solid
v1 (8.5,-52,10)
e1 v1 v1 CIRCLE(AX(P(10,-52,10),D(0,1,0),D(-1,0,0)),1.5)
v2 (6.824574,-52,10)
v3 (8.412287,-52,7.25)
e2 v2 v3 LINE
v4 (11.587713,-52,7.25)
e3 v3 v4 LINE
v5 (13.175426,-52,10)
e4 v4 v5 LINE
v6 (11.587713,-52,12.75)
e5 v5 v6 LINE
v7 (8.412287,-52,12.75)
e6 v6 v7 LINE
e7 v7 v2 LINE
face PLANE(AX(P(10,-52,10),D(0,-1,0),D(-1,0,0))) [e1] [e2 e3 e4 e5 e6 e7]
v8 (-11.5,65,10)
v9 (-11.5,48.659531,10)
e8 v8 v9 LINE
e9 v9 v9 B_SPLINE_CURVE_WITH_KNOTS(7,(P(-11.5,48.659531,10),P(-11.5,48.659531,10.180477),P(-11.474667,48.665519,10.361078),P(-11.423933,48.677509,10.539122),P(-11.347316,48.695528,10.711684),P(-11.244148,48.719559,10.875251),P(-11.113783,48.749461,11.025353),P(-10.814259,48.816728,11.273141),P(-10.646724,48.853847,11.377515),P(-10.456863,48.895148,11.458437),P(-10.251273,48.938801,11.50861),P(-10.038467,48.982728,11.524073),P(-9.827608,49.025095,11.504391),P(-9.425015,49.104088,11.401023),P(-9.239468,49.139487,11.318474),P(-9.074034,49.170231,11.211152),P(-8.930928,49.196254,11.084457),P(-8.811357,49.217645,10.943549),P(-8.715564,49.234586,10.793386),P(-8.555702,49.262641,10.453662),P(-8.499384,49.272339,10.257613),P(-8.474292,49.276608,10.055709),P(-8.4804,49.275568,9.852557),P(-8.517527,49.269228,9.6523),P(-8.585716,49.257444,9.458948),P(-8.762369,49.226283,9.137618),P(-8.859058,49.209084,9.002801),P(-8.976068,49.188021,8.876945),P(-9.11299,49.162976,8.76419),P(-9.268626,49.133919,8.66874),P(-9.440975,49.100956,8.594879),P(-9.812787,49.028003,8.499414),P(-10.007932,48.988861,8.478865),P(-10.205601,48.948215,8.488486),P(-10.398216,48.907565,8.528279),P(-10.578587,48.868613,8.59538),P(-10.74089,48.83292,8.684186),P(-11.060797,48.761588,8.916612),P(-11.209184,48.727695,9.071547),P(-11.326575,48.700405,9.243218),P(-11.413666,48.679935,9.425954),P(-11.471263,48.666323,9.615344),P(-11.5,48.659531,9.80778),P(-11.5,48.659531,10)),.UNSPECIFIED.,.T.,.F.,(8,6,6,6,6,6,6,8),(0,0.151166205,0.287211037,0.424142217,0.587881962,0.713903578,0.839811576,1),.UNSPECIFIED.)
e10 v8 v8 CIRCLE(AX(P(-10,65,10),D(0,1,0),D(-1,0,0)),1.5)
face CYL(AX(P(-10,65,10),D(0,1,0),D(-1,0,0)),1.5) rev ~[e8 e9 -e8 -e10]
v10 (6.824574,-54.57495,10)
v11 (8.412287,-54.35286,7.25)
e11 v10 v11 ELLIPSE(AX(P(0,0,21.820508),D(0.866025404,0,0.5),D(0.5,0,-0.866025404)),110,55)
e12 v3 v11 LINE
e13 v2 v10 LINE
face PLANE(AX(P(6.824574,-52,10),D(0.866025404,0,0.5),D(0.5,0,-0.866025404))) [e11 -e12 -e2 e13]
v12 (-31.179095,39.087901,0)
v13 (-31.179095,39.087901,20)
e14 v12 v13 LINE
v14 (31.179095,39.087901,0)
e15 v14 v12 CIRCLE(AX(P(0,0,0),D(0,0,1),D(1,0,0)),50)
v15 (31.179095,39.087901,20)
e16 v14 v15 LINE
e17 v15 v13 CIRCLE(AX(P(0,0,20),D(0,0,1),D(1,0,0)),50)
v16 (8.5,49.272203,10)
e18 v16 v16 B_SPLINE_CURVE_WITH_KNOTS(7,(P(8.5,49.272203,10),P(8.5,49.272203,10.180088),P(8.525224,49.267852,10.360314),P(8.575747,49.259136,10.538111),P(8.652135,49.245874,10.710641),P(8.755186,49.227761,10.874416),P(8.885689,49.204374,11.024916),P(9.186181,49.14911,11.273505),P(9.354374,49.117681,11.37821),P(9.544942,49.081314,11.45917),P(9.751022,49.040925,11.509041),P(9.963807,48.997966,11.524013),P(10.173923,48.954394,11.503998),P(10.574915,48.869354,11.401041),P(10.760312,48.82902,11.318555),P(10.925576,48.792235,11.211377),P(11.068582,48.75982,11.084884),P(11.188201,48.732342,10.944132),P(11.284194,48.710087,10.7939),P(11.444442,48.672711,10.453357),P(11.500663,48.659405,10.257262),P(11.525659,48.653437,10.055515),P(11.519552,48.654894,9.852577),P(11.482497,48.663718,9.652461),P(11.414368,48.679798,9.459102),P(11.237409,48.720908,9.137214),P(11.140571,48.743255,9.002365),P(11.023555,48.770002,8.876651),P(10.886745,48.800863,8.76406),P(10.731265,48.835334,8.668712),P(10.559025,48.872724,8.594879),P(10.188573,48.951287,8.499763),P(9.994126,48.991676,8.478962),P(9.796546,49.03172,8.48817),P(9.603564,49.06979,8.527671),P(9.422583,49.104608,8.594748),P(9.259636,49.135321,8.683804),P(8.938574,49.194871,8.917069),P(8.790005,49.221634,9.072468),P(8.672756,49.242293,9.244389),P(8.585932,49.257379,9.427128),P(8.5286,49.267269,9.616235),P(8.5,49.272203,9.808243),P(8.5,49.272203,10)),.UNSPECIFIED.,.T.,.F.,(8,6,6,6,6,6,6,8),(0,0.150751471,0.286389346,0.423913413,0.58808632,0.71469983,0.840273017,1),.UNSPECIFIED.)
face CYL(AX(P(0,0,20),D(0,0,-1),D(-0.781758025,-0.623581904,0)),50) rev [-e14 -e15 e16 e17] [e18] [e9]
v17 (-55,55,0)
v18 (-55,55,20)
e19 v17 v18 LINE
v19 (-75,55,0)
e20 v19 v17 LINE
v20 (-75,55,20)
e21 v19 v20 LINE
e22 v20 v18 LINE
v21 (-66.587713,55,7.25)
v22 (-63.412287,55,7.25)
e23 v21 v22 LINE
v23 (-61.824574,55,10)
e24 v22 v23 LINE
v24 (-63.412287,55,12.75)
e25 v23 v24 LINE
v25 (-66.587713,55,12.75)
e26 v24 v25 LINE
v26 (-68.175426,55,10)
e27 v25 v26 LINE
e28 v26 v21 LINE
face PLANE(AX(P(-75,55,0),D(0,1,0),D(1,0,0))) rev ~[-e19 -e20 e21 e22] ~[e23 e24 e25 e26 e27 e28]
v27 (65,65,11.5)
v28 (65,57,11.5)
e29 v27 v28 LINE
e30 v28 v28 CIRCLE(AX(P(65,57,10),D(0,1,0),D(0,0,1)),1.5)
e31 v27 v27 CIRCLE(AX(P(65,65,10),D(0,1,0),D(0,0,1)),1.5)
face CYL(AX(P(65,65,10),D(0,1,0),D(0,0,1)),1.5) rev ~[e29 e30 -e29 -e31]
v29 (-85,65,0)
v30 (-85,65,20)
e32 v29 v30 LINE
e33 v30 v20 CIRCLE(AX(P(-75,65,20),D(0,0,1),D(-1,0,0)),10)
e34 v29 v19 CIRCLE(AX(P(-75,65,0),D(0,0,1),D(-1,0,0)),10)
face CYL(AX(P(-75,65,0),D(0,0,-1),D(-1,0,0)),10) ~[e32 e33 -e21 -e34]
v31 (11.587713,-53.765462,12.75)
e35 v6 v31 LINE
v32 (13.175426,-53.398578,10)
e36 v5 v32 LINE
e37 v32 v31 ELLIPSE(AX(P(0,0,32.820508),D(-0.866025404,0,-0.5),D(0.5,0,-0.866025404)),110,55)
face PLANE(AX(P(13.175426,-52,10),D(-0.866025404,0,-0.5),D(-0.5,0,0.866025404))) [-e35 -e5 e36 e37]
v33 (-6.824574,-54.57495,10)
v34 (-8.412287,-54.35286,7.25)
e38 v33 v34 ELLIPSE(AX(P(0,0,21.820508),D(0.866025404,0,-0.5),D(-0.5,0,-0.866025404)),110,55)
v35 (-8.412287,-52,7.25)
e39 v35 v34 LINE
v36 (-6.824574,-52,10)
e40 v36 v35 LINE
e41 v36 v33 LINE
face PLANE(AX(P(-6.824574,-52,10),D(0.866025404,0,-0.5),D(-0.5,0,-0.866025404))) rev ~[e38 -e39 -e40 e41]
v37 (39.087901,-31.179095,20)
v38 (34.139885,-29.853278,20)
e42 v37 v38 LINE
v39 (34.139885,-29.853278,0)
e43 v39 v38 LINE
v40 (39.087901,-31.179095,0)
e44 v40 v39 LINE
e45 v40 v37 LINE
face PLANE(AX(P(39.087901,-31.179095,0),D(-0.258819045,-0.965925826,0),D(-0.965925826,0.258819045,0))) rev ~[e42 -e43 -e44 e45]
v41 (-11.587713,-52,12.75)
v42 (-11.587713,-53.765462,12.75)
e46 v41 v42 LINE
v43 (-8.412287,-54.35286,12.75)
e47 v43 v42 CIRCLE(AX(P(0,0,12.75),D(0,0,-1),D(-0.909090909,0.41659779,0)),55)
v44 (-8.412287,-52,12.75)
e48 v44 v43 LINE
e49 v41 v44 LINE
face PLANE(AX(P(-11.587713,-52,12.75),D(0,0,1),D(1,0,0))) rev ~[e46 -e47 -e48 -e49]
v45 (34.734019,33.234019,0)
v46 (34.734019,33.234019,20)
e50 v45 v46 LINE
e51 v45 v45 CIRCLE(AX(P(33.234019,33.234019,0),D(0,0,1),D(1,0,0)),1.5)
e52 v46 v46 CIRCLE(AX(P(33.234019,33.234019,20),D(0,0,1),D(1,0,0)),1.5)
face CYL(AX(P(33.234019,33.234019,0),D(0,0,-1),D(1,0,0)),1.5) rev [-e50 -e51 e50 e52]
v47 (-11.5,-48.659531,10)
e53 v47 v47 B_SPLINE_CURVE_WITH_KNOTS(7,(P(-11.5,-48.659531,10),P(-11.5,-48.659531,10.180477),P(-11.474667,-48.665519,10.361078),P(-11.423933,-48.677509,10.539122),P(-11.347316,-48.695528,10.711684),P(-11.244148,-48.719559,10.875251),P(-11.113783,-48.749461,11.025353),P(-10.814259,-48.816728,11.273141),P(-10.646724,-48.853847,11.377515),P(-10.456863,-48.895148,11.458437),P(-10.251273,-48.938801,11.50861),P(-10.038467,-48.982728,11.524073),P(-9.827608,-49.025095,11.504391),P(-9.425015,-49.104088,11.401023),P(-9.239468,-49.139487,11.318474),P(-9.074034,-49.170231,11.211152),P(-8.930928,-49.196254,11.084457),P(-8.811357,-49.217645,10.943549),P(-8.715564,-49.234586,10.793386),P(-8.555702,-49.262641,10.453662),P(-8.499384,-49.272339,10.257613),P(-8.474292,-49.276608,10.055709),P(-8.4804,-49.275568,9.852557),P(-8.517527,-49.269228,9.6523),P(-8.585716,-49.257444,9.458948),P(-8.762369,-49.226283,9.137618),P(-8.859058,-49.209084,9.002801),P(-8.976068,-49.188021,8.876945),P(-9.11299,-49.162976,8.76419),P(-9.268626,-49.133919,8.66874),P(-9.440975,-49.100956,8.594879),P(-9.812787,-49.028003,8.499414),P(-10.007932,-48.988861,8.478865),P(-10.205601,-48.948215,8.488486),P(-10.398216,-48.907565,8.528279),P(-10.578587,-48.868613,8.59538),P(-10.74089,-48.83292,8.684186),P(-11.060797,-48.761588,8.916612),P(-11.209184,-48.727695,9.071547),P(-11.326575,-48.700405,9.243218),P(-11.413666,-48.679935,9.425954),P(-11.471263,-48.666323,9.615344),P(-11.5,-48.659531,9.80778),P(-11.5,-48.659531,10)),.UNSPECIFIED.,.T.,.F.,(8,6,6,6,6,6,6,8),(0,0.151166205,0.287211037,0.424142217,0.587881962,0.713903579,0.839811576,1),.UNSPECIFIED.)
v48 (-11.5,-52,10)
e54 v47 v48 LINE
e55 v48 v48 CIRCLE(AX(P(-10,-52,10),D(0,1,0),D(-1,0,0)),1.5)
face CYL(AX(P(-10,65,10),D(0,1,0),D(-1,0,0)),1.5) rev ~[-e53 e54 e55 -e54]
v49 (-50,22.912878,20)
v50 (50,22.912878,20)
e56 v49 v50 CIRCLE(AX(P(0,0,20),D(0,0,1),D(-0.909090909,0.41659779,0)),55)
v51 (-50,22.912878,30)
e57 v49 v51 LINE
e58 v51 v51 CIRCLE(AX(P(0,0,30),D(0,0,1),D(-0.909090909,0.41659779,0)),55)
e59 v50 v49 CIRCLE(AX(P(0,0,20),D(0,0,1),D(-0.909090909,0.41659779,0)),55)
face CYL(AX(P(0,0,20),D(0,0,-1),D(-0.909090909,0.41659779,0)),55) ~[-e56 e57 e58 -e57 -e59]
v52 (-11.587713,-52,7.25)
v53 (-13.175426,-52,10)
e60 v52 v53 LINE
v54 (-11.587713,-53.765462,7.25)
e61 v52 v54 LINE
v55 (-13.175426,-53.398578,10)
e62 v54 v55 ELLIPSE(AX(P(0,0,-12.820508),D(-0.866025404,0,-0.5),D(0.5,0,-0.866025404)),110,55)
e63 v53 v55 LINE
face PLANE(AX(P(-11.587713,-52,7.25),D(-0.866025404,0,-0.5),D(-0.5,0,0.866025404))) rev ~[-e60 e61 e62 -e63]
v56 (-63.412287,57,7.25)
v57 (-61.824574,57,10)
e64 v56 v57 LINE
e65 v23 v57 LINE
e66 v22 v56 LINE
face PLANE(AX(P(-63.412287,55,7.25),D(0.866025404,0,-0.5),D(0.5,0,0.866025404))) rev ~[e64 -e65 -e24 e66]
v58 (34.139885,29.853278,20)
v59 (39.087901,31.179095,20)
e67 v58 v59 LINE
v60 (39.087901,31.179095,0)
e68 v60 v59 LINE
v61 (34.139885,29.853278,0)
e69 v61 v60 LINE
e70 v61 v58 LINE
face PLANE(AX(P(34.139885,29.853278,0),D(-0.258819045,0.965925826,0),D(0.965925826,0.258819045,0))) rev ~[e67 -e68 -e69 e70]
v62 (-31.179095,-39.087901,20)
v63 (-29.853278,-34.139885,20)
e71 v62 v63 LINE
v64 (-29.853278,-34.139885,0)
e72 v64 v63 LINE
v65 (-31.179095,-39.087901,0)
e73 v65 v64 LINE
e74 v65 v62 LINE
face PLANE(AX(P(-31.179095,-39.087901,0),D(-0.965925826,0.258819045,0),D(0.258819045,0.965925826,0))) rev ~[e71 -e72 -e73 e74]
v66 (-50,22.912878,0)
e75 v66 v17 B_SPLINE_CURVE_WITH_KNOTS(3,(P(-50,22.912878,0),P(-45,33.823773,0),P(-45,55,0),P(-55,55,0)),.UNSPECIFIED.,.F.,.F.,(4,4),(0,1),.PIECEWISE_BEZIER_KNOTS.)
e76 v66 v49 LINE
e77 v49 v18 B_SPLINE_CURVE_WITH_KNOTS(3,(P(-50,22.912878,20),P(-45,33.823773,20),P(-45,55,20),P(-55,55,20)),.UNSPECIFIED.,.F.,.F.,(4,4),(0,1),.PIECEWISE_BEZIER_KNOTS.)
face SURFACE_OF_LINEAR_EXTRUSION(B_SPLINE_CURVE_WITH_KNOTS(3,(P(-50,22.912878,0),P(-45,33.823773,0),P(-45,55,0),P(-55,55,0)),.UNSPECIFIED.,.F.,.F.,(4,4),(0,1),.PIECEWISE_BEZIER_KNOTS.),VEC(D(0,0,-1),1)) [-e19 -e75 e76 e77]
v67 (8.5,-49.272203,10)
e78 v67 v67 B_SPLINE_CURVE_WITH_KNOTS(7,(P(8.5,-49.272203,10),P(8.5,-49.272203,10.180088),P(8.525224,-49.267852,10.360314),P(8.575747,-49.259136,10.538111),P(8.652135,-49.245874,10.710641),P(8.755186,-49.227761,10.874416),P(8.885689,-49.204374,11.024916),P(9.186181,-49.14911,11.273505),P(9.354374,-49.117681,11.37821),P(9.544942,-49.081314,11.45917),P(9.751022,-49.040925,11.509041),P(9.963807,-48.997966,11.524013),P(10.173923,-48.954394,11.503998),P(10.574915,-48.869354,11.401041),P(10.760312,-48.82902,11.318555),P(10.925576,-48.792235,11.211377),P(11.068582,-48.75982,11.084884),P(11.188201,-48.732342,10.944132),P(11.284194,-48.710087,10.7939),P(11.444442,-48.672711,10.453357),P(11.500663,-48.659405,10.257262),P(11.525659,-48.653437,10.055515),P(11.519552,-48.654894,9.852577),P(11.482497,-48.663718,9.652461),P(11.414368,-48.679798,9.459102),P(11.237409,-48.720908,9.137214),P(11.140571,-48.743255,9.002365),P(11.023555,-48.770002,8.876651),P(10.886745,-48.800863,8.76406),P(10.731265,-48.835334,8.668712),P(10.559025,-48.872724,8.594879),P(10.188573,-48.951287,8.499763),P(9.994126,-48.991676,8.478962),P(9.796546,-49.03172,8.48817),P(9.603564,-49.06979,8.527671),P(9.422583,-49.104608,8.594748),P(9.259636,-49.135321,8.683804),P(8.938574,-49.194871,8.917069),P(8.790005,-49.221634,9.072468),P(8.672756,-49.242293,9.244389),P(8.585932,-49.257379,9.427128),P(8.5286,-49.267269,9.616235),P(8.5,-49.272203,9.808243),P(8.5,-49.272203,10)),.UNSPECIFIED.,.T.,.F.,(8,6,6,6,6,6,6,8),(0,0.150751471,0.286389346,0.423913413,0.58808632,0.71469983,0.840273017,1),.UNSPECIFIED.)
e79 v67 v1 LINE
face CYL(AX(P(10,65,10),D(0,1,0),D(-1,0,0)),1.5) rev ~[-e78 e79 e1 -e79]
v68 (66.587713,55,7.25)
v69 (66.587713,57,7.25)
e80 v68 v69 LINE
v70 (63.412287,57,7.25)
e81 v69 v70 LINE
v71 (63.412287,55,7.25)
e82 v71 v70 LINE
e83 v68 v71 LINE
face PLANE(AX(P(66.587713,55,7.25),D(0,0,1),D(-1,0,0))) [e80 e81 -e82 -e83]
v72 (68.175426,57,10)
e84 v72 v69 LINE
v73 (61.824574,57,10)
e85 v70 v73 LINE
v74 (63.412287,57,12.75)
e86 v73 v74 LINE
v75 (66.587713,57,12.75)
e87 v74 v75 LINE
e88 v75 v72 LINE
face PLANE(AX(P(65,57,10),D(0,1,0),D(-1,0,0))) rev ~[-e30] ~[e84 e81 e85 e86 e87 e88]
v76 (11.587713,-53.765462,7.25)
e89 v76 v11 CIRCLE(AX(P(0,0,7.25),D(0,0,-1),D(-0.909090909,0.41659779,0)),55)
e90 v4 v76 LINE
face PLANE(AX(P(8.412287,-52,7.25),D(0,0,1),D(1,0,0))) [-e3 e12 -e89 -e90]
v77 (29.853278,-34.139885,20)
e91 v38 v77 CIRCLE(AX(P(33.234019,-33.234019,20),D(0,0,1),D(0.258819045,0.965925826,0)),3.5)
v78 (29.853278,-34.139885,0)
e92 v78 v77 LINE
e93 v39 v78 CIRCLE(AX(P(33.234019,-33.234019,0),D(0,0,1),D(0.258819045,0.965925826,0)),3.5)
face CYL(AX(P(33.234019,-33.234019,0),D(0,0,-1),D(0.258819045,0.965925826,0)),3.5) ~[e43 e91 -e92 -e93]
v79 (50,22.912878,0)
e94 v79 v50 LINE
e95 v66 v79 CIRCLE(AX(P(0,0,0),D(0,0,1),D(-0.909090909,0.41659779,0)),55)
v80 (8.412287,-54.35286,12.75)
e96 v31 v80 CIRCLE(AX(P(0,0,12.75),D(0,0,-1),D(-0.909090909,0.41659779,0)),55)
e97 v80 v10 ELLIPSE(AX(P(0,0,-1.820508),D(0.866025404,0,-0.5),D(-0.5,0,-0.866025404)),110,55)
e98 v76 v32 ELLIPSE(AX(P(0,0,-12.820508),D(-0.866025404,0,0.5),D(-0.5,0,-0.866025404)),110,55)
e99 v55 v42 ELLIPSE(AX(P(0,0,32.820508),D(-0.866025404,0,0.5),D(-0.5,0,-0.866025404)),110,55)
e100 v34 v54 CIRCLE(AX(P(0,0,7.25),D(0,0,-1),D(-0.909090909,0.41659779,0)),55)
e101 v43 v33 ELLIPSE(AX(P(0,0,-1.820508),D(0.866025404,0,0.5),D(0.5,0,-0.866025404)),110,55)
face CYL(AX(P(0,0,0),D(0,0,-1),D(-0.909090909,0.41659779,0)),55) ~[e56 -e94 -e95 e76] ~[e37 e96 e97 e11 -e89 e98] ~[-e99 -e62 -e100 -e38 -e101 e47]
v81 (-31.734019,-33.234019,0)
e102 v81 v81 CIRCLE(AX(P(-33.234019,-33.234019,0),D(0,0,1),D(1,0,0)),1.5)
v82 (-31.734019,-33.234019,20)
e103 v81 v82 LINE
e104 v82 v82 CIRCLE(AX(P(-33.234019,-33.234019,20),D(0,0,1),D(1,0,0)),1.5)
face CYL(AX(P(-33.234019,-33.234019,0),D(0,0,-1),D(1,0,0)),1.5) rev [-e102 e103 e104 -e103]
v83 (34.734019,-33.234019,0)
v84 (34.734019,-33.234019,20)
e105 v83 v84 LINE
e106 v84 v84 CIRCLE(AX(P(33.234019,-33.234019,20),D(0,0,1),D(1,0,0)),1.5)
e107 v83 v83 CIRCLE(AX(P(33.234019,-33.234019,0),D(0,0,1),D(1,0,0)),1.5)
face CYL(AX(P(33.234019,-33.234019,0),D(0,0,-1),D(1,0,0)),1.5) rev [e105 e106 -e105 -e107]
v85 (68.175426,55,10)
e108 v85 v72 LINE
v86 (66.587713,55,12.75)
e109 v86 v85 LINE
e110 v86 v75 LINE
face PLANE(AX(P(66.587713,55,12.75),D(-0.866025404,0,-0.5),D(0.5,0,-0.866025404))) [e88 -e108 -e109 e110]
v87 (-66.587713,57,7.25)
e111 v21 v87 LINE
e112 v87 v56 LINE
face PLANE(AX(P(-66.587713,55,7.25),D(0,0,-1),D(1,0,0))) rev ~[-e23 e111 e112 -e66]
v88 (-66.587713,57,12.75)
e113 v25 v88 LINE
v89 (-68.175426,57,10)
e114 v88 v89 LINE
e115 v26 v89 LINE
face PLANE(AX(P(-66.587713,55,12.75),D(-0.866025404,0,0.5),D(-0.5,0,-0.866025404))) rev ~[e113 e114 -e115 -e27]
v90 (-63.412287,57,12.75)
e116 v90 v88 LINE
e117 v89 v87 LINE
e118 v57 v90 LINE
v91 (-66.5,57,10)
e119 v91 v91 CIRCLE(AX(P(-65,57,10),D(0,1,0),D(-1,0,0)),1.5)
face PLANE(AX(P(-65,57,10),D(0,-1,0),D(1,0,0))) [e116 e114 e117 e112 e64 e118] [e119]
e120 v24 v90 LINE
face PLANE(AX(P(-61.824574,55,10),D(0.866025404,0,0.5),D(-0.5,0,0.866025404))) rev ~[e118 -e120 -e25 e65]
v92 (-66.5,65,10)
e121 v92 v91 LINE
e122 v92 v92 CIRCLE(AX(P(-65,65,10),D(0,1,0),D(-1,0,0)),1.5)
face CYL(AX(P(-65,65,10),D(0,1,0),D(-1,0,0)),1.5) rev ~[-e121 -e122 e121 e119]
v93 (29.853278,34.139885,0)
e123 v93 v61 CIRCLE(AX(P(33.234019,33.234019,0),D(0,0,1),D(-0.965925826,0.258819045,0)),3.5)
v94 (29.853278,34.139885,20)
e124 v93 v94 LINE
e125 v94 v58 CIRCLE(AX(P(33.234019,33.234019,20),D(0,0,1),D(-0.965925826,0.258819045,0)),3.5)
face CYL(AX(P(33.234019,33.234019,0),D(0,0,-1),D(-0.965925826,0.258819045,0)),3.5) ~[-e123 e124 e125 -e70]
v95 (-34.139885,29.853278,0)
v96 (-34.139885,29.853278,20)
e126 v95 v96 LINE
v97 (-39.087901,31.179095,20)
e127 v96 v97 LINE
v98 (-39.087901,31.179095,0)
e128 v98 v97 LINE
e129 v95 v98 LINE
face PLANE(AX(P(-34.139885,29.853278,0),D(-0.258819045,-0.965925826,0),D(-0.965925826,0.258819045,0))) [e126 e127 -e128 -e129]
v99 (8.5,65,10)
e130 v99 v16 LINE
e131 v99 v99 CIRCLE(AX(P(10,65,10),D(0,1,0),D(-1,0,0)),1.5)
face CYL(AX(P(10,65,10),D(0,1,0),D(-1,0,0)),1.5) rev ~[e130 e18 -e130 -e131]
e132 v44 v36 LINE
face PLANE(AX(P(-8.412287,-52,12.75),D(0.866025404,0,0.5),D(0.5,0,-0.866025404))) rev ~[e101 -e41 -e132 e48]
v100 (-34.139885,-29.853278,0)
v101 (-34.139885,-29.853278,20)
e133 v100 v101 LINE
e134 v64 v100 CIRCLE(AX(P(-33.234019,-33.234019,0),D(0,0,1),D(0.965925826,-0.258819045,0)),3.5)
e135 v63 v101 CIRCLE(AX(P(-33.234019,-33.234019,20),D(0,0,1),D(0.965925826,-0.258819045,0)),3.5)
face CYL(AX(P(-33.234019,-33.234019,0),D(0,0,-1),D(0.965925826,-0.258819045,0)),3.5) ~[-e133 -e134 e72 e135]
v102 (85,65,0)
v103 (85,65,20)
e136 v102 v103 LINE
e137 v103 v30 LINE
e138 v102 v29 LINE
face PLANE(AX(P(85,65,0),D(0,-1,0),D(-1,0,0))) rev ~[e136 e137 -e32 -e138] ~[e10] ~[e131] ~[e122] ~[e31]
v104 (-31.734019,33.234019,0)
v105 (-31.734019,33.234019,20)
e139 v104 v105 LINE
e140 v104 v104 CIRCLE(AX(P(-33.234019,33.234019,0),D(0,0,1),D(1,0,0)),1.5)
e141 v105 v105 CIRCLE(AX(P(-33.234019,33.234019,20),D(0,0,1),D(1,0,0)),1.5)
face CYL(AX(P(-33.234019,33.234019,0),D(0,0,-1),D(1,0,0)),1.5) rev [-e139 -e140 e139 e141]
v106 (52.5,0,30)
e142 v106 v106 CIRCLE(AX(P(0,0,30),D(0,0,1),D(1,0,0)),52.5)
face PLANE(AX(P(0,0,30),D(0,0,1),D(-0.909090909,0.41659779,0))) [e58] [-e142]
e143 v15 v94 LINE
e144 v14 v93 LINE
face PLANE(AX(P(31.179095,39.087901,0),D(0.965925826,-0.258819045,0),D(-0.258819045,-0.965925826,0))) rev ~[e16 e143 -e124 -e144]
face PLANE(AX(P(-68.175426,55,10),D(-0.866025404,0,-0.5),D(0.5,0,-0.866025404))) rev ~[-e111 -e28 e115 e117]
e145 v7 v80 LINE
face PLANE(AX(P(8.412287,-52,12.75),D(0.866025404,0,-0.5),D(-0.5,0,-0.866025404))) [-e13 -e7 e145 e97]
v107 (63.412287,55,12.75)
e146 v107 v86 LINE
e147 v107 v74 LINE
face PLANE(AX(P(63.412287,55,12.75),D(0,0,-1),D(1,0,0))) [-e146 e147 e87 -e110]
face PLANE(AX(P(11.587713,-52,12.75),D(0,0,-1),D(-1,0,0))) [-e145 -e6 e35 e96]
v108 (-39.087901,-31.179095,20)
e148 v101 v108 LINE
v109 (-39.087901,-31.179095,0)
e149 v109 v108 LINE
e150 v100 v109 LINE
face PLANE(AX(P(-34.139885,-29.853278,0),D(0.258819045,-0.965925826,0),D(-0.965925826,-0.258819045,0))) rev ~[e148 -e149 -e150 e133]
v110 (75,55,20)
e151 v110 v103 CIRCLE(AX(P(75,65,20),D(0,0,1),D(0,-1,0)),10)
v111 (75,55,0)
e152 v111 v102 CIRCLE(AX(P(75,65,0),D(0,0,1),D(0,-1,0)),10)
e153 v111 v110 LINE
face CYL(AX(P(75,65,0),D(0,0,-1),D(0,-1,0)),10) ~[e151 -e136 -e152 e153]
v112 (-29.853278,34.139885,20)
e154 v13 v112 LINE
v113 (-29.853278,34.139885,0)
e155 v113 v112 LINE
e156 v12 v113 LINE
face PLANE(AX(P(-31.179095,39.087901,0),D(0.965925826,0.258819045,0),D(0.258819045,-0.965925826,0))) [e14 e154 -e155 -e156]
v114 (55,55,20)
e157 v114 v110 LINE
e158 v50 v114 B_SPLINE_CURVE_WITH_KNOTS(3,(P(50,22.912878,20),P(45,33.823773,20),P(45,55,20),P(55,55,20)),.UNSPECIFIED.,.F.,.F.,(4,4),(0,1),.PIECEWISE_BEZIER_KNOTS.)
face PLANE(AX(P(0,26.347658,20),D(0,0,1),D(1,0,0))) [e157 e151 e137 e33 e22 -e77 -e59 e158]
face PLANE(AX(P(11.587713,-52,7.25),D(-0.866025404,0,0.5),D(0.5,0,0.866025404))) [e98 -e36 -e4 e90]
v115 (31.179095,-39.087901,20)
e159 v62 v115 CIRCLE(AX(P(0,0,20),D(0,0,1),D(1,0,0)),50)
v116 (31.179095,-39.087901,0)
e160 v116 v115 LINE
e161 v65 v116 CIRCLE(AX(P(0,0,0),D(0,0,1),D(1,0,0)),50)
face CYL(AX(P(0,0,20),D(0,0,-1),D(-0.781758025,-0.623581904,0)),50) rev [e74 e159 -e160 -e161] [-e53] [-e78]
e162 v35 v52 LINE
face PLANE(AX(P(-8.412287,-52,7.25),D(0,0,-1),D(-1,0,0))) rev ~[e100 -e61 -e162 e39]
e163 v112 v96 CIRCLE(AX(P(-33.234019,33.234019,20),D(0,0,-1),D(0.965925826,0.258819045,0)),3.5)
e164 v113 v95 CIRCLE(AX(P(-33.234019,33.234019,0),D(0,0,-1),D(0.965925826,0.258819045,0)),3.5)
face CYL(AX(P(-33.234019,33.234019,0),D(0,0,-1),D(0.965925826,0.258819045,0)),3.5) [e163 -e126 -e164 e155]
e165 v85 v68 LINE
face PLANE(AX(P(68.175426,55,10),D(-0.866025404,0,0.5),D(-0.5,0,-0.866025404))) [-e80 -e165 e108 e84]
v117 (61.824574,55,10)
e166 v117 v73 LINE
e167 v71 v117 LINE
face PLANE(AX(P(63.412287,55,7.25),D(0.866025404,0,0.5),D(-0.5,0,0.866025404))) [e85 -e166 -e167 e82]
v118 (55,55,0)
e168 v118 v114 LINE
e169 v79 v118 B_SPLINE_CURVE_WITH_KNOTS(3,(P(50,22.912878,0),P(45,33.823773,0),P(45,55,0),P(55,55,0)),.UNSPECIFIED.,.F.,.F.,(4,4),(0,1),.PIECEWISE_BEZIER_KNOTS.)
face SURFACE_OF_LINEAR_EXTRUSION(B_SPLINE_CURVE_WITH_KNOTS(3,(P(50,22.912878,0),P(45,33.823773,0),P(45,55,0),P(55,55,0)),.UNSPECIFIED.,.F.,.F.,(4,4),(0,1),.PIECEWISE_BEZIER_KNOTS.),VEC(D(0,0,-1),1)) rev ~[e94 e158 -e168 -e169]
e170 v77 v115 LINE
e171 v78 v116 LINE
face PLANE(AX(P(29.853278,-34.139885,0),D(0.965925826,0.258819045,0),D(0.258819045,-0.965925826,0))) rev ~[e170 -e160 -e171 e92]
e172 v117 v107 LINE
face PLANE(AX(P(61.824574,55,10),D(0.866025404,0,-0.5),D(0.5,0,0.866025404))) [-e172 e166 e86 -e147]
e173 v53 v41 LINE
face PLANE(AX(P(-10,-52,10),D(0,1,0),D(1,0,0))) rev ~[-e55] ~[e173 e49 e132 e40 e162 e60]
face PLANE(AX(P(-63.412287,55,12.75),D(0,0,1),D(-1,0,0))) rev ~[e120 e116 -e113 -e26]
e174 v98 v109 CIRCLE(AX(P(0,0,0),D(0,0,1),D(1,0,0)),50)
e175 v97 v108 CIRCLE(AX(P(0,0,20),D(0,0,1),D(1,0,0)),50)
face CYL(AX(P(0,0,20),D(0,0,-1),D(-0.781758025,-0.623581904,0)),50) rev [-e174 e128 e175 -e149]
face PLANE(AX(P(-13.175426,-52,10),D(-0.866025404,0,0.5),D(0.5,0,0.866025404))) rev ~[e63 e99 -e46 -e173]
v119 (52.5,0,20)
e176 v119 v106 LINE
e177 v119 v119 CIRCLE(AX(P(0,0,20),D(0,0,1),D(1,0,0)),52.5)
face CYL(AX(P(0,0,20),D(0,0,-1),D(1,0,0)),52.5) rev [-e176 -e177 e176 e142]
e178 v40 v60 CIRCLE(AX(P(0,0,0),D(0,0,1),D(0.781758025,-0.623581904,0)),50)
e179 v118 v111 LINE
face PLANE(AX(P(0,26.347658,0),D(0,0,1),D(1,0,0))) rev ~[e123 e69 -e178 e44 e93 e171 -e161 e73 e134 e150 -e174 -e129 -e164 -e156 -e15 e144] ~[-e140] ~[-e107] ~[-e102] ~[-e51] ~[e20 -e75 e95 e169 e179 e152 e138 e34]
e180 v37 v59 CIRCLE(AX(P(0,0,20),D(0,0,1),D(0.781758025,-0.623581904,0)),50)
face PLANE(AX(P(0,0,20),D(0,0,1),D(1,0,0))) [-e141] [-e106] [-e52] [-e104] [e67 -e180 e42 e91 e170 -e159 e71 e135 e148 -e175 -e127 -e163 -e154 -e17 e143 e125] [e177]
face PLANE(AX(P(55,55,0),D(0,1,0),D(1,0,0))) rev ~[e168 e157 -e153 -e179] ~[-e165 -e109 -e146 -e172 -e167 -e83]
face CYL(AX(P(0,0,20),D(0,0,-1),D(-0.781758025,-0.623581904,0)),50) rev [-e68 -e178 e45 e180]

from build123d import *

# Parameters (mm, degrees)
SKETCH_2_R          = 50
EXTRUDE_1_DEPTH     = 20
SKETCH_3_R          = 1.5
CUT_EXTRUDE_1_DEPTH = 149.408220948
SKETCH_4_R          = 1.5
EXTRUDE_2_DEPTH     = 20
CUT_EXTRUDE_START   = -52
CUT_EXTRUDE_4_DEPTH = 57.857705442
CUT_EXTRUDE_5_DEPTH = 2
SKETCH_9_R          = 55
SKETCH_9_R_2        = 50
EXTRUDE_3_DEPTH     = 10
CUT_EXTRUDE_START_2 = -10
SKETCH_10_R         = 52.5
SKETCH_10_R_2       = 50
CUT_EXTRUDE_6_DEPTH = 10


with BuildPart() as part:
    # 草图2 → 凸台-拉伸1 (new body)
    with BuildSketch(Plane.XY):
        with BuildLine():
            Line((-75, 55), (-55, 55))
            add(Edge.make_bspline(
                [(-50, 22.912878475), (-45, 33.823772987), (-45, 55), (-55, 55)],
                knots=[0, 0, 0, 0, 1, 1, 1, 1], degree=3))
            ThreePointArc((-50, 22.912878475), (0, -55), (50, 22.912878475))
            add(Edge.make_bspline(
                [(50, 22.912878475), (45, 33.823772987), (45, 55), (55, 55)],
                knots=[0, 0, 0, 0, 1, 1, 1, 1], degree=3))
            Line((55, 55), (75, 55))
            ThreePointArc((75, 55), (82.071067812, 57.928932188), (85, 65))
            Line((85, 65), (-85, 65))
            ThreePointArc((-85, 65), (-82.071067812, 57.928932188), (-75, 55))
        make_face()
        Circle(SKETCH_2_R, mode=Mode.SUBTRACT)
    extrude(amount=EXTRUDE_1_DEPTH)

    # 草图3 → 切除-拉伸1 (cut, through all)
    with BuildSketch(Plane(origin=(0, 65, 0), x_dir=(1, 0, 0), z_dir=(0, 1, 0))):
        with Locations(Location((-65, -10, 0), (0, 0, 180))):
            Circle(SKETCH_3_R)
        with Locations(Location((-10, -10, 0), (0, 0, 180))):
            Circle(SKETCH_3_R)
        with Locations(Location((10, -10, 0), (0, 0, 180))):
            Circle(SKETCH_3_R)
        with Locations(Location((65, -10, 0), (0, 0, 270))):
            Circle(SKETCH_3_R)
    extrude(amount=-CUT_EXTRUDE_1_DEPTH, mode=Mode.SUBTRACT)

    # 草图4 → 凸台-拉伸2 (add, through all)
    # profile 1 of 4: a face of its own
    with BuildSketch(Plane.XY):
        with BuildLine():
            Line((-31.179095181, 39.087901245), (-29.853278324, 34.139885374))
            ThreePointArc((-29.853278324, 34.139885374), (-30.759144982, 30.759144982), (-34.139885374, 29.853278324))
            Line((-34.139885374, 29.853278324), (-39.087901245, 31.179095181))
            ThreePointArc((-39.087901245, 31.179095181), (-35.355339059, 35.355339059), (-31.179095181, 39.087901245))
        make_face()
        with Locations((-33.234018716, 33.234018716)):
            Circle(SKETCH_4_R, mode=Mode.SUBTRACT)
    # profile 2 of 4: a face of its own
    with BuildSketch(Plane.XY):
        with BuildLine():
            Line((31.179095181, 39.087901245), (29.853278324, 34.139885374))
            ThreePointArc((29.853278324, 34.139885374), (30.759144982, 30.759144982), (34.139885374, 29.853278324))
            Line((34.139885374, 29.853278324), (39.087901245, 31.179095181))
            ThreePointArc((39.087901245, 31.179095181), (35.355339059, 35.355339059), (31.179095181, 39.087901245))
        make_face()
        with Locations((33.234018716, 33.234018716)):
            Circle(SKETCH_4_R, mode=Mode.SUBTRACT)
    # profile 3 of 4: a face of its own
    with BuildSketch(Plane.XY):
        with BuildLine():
            Line((39.087901245, -31.179095181), (34.139885374, -29.853278324))
            ThreePointArc((34.139885374, -29.853278324), (30.759144982, -30.759144982), (29.853278324, -34.139885374))
            Line((29.853278324, -34.139885374), (31.179095181, -39.087901245))
            ThreePointArc((31.179095181, -39.087901245), (35.355339059, -35.355339059), (39.087901245, -31.179095181))
        make_face()
        with Locations((33.234018716, -33.234018716)):
            Circle(SKETCH_4_R, mode=Mode.SUBTRACT)
    # profile 4 of 4: a face of its own
    with BuildSketch(Plane.XY):
        with BuildLine():
            Line((-31.179095181, -39.087901245), (-29.853278324, -34.139885374))
            ThreePointArc((-29.853278324, -34.139885374), (-30.759144982, -30.759144982), (-34.139885374, -29.853278324))
            Line((-34.139885374, -29.853278324), (-39.087901245, -31.179095181))
            ThreePointArc((-39.087901245, -31.179095181), (-35.355339059, -35.355339059), (-31.179095181, -39.087901245))
        make_face()
        with Locations((-33.234018716, -33.234018716)):
            Circle(SKETCH_4_R, mode=Mode.SUBTRACT)
    extrude(amount=EXTRUDE_2_DEPTH)

    # 草图6 → 切除-拉伸4 (cut, through all)
    with BuildSketch(Plane(origin=(0, 0, 0), x_dir=(1, 0, 0), z_dir=(0, 1, 0)).offset(CUT_EXTRUDE_START)):
        Polygon((-8.41228676, -7.25), (-11.58771324, -7.25), (-13.175426481, -10), (-11.58771324, -12.75), (-8.41228676, -12.75), (-6.824573519, -10), align=None)
        Polygon((6.824573519, -10), (8.41228676, -7.25), (11.58771324, -7.25), (13.175426481, -10), (11.58771324, -12.75), (8.41228676, -12.75), align=None)
    extrude(amount=-CUT_EXTRUDE_4_DEPTH, mode=Mode.SUBTRACT)

    # 草图7 → 切除-拉伸5 (cut)
    with BuildSketch(Plane.XZ.offset(-55)):
        Polygon((-63.41228676, 12.75), (-66.58771324, 12.75), (-68.175426481, 10), (-66.58771324, 7.25), (-63.41228676, 7.25), (-61.824573519, 10), align=None)
        Polygon((61.824573519, 10), (63.41228676, 12.75), (66.58771324, 12.75), (68.175426481, 10), (66.58771324, 7.25), (63.41228676, 7.25), align=None)
    extrude(amount=-CUT_EXTRUDE_5_DEPTH, mode=Mode.SUBTRACT)

    # 草图9 → 凸台-拉伸3 (add)
    with BuildSketch(Plane.XY.offset(20)):
        with Locations(Location((0, 0, 0), (0, 0, 155.380022671))):
            Circle(SKETCH_9_R)
        with Locations(Location((0, 0, 0), (0, 0, 218.578178478))):
            Circle(SKETCH_9_R_2, mode=Mode.SUBTRACT)
    extrude(amount=EXTRUDE_3_DEPTH)

    # 草图10 → 切除-拉伸6 (cut)
    with BuildSketch(Plane.XY.offset(30).offset(CUT_EXTRUDE_START_2)):
        Circle(SKETCH_10_R)
        Circle(SKETCH_10_R_2, mode=Mode.SUBTRACT)
    extrude(amount=CUT_EXTRUDE_6_DEPTH, mode=Mode.SUBTRACT)


solid = part.part
